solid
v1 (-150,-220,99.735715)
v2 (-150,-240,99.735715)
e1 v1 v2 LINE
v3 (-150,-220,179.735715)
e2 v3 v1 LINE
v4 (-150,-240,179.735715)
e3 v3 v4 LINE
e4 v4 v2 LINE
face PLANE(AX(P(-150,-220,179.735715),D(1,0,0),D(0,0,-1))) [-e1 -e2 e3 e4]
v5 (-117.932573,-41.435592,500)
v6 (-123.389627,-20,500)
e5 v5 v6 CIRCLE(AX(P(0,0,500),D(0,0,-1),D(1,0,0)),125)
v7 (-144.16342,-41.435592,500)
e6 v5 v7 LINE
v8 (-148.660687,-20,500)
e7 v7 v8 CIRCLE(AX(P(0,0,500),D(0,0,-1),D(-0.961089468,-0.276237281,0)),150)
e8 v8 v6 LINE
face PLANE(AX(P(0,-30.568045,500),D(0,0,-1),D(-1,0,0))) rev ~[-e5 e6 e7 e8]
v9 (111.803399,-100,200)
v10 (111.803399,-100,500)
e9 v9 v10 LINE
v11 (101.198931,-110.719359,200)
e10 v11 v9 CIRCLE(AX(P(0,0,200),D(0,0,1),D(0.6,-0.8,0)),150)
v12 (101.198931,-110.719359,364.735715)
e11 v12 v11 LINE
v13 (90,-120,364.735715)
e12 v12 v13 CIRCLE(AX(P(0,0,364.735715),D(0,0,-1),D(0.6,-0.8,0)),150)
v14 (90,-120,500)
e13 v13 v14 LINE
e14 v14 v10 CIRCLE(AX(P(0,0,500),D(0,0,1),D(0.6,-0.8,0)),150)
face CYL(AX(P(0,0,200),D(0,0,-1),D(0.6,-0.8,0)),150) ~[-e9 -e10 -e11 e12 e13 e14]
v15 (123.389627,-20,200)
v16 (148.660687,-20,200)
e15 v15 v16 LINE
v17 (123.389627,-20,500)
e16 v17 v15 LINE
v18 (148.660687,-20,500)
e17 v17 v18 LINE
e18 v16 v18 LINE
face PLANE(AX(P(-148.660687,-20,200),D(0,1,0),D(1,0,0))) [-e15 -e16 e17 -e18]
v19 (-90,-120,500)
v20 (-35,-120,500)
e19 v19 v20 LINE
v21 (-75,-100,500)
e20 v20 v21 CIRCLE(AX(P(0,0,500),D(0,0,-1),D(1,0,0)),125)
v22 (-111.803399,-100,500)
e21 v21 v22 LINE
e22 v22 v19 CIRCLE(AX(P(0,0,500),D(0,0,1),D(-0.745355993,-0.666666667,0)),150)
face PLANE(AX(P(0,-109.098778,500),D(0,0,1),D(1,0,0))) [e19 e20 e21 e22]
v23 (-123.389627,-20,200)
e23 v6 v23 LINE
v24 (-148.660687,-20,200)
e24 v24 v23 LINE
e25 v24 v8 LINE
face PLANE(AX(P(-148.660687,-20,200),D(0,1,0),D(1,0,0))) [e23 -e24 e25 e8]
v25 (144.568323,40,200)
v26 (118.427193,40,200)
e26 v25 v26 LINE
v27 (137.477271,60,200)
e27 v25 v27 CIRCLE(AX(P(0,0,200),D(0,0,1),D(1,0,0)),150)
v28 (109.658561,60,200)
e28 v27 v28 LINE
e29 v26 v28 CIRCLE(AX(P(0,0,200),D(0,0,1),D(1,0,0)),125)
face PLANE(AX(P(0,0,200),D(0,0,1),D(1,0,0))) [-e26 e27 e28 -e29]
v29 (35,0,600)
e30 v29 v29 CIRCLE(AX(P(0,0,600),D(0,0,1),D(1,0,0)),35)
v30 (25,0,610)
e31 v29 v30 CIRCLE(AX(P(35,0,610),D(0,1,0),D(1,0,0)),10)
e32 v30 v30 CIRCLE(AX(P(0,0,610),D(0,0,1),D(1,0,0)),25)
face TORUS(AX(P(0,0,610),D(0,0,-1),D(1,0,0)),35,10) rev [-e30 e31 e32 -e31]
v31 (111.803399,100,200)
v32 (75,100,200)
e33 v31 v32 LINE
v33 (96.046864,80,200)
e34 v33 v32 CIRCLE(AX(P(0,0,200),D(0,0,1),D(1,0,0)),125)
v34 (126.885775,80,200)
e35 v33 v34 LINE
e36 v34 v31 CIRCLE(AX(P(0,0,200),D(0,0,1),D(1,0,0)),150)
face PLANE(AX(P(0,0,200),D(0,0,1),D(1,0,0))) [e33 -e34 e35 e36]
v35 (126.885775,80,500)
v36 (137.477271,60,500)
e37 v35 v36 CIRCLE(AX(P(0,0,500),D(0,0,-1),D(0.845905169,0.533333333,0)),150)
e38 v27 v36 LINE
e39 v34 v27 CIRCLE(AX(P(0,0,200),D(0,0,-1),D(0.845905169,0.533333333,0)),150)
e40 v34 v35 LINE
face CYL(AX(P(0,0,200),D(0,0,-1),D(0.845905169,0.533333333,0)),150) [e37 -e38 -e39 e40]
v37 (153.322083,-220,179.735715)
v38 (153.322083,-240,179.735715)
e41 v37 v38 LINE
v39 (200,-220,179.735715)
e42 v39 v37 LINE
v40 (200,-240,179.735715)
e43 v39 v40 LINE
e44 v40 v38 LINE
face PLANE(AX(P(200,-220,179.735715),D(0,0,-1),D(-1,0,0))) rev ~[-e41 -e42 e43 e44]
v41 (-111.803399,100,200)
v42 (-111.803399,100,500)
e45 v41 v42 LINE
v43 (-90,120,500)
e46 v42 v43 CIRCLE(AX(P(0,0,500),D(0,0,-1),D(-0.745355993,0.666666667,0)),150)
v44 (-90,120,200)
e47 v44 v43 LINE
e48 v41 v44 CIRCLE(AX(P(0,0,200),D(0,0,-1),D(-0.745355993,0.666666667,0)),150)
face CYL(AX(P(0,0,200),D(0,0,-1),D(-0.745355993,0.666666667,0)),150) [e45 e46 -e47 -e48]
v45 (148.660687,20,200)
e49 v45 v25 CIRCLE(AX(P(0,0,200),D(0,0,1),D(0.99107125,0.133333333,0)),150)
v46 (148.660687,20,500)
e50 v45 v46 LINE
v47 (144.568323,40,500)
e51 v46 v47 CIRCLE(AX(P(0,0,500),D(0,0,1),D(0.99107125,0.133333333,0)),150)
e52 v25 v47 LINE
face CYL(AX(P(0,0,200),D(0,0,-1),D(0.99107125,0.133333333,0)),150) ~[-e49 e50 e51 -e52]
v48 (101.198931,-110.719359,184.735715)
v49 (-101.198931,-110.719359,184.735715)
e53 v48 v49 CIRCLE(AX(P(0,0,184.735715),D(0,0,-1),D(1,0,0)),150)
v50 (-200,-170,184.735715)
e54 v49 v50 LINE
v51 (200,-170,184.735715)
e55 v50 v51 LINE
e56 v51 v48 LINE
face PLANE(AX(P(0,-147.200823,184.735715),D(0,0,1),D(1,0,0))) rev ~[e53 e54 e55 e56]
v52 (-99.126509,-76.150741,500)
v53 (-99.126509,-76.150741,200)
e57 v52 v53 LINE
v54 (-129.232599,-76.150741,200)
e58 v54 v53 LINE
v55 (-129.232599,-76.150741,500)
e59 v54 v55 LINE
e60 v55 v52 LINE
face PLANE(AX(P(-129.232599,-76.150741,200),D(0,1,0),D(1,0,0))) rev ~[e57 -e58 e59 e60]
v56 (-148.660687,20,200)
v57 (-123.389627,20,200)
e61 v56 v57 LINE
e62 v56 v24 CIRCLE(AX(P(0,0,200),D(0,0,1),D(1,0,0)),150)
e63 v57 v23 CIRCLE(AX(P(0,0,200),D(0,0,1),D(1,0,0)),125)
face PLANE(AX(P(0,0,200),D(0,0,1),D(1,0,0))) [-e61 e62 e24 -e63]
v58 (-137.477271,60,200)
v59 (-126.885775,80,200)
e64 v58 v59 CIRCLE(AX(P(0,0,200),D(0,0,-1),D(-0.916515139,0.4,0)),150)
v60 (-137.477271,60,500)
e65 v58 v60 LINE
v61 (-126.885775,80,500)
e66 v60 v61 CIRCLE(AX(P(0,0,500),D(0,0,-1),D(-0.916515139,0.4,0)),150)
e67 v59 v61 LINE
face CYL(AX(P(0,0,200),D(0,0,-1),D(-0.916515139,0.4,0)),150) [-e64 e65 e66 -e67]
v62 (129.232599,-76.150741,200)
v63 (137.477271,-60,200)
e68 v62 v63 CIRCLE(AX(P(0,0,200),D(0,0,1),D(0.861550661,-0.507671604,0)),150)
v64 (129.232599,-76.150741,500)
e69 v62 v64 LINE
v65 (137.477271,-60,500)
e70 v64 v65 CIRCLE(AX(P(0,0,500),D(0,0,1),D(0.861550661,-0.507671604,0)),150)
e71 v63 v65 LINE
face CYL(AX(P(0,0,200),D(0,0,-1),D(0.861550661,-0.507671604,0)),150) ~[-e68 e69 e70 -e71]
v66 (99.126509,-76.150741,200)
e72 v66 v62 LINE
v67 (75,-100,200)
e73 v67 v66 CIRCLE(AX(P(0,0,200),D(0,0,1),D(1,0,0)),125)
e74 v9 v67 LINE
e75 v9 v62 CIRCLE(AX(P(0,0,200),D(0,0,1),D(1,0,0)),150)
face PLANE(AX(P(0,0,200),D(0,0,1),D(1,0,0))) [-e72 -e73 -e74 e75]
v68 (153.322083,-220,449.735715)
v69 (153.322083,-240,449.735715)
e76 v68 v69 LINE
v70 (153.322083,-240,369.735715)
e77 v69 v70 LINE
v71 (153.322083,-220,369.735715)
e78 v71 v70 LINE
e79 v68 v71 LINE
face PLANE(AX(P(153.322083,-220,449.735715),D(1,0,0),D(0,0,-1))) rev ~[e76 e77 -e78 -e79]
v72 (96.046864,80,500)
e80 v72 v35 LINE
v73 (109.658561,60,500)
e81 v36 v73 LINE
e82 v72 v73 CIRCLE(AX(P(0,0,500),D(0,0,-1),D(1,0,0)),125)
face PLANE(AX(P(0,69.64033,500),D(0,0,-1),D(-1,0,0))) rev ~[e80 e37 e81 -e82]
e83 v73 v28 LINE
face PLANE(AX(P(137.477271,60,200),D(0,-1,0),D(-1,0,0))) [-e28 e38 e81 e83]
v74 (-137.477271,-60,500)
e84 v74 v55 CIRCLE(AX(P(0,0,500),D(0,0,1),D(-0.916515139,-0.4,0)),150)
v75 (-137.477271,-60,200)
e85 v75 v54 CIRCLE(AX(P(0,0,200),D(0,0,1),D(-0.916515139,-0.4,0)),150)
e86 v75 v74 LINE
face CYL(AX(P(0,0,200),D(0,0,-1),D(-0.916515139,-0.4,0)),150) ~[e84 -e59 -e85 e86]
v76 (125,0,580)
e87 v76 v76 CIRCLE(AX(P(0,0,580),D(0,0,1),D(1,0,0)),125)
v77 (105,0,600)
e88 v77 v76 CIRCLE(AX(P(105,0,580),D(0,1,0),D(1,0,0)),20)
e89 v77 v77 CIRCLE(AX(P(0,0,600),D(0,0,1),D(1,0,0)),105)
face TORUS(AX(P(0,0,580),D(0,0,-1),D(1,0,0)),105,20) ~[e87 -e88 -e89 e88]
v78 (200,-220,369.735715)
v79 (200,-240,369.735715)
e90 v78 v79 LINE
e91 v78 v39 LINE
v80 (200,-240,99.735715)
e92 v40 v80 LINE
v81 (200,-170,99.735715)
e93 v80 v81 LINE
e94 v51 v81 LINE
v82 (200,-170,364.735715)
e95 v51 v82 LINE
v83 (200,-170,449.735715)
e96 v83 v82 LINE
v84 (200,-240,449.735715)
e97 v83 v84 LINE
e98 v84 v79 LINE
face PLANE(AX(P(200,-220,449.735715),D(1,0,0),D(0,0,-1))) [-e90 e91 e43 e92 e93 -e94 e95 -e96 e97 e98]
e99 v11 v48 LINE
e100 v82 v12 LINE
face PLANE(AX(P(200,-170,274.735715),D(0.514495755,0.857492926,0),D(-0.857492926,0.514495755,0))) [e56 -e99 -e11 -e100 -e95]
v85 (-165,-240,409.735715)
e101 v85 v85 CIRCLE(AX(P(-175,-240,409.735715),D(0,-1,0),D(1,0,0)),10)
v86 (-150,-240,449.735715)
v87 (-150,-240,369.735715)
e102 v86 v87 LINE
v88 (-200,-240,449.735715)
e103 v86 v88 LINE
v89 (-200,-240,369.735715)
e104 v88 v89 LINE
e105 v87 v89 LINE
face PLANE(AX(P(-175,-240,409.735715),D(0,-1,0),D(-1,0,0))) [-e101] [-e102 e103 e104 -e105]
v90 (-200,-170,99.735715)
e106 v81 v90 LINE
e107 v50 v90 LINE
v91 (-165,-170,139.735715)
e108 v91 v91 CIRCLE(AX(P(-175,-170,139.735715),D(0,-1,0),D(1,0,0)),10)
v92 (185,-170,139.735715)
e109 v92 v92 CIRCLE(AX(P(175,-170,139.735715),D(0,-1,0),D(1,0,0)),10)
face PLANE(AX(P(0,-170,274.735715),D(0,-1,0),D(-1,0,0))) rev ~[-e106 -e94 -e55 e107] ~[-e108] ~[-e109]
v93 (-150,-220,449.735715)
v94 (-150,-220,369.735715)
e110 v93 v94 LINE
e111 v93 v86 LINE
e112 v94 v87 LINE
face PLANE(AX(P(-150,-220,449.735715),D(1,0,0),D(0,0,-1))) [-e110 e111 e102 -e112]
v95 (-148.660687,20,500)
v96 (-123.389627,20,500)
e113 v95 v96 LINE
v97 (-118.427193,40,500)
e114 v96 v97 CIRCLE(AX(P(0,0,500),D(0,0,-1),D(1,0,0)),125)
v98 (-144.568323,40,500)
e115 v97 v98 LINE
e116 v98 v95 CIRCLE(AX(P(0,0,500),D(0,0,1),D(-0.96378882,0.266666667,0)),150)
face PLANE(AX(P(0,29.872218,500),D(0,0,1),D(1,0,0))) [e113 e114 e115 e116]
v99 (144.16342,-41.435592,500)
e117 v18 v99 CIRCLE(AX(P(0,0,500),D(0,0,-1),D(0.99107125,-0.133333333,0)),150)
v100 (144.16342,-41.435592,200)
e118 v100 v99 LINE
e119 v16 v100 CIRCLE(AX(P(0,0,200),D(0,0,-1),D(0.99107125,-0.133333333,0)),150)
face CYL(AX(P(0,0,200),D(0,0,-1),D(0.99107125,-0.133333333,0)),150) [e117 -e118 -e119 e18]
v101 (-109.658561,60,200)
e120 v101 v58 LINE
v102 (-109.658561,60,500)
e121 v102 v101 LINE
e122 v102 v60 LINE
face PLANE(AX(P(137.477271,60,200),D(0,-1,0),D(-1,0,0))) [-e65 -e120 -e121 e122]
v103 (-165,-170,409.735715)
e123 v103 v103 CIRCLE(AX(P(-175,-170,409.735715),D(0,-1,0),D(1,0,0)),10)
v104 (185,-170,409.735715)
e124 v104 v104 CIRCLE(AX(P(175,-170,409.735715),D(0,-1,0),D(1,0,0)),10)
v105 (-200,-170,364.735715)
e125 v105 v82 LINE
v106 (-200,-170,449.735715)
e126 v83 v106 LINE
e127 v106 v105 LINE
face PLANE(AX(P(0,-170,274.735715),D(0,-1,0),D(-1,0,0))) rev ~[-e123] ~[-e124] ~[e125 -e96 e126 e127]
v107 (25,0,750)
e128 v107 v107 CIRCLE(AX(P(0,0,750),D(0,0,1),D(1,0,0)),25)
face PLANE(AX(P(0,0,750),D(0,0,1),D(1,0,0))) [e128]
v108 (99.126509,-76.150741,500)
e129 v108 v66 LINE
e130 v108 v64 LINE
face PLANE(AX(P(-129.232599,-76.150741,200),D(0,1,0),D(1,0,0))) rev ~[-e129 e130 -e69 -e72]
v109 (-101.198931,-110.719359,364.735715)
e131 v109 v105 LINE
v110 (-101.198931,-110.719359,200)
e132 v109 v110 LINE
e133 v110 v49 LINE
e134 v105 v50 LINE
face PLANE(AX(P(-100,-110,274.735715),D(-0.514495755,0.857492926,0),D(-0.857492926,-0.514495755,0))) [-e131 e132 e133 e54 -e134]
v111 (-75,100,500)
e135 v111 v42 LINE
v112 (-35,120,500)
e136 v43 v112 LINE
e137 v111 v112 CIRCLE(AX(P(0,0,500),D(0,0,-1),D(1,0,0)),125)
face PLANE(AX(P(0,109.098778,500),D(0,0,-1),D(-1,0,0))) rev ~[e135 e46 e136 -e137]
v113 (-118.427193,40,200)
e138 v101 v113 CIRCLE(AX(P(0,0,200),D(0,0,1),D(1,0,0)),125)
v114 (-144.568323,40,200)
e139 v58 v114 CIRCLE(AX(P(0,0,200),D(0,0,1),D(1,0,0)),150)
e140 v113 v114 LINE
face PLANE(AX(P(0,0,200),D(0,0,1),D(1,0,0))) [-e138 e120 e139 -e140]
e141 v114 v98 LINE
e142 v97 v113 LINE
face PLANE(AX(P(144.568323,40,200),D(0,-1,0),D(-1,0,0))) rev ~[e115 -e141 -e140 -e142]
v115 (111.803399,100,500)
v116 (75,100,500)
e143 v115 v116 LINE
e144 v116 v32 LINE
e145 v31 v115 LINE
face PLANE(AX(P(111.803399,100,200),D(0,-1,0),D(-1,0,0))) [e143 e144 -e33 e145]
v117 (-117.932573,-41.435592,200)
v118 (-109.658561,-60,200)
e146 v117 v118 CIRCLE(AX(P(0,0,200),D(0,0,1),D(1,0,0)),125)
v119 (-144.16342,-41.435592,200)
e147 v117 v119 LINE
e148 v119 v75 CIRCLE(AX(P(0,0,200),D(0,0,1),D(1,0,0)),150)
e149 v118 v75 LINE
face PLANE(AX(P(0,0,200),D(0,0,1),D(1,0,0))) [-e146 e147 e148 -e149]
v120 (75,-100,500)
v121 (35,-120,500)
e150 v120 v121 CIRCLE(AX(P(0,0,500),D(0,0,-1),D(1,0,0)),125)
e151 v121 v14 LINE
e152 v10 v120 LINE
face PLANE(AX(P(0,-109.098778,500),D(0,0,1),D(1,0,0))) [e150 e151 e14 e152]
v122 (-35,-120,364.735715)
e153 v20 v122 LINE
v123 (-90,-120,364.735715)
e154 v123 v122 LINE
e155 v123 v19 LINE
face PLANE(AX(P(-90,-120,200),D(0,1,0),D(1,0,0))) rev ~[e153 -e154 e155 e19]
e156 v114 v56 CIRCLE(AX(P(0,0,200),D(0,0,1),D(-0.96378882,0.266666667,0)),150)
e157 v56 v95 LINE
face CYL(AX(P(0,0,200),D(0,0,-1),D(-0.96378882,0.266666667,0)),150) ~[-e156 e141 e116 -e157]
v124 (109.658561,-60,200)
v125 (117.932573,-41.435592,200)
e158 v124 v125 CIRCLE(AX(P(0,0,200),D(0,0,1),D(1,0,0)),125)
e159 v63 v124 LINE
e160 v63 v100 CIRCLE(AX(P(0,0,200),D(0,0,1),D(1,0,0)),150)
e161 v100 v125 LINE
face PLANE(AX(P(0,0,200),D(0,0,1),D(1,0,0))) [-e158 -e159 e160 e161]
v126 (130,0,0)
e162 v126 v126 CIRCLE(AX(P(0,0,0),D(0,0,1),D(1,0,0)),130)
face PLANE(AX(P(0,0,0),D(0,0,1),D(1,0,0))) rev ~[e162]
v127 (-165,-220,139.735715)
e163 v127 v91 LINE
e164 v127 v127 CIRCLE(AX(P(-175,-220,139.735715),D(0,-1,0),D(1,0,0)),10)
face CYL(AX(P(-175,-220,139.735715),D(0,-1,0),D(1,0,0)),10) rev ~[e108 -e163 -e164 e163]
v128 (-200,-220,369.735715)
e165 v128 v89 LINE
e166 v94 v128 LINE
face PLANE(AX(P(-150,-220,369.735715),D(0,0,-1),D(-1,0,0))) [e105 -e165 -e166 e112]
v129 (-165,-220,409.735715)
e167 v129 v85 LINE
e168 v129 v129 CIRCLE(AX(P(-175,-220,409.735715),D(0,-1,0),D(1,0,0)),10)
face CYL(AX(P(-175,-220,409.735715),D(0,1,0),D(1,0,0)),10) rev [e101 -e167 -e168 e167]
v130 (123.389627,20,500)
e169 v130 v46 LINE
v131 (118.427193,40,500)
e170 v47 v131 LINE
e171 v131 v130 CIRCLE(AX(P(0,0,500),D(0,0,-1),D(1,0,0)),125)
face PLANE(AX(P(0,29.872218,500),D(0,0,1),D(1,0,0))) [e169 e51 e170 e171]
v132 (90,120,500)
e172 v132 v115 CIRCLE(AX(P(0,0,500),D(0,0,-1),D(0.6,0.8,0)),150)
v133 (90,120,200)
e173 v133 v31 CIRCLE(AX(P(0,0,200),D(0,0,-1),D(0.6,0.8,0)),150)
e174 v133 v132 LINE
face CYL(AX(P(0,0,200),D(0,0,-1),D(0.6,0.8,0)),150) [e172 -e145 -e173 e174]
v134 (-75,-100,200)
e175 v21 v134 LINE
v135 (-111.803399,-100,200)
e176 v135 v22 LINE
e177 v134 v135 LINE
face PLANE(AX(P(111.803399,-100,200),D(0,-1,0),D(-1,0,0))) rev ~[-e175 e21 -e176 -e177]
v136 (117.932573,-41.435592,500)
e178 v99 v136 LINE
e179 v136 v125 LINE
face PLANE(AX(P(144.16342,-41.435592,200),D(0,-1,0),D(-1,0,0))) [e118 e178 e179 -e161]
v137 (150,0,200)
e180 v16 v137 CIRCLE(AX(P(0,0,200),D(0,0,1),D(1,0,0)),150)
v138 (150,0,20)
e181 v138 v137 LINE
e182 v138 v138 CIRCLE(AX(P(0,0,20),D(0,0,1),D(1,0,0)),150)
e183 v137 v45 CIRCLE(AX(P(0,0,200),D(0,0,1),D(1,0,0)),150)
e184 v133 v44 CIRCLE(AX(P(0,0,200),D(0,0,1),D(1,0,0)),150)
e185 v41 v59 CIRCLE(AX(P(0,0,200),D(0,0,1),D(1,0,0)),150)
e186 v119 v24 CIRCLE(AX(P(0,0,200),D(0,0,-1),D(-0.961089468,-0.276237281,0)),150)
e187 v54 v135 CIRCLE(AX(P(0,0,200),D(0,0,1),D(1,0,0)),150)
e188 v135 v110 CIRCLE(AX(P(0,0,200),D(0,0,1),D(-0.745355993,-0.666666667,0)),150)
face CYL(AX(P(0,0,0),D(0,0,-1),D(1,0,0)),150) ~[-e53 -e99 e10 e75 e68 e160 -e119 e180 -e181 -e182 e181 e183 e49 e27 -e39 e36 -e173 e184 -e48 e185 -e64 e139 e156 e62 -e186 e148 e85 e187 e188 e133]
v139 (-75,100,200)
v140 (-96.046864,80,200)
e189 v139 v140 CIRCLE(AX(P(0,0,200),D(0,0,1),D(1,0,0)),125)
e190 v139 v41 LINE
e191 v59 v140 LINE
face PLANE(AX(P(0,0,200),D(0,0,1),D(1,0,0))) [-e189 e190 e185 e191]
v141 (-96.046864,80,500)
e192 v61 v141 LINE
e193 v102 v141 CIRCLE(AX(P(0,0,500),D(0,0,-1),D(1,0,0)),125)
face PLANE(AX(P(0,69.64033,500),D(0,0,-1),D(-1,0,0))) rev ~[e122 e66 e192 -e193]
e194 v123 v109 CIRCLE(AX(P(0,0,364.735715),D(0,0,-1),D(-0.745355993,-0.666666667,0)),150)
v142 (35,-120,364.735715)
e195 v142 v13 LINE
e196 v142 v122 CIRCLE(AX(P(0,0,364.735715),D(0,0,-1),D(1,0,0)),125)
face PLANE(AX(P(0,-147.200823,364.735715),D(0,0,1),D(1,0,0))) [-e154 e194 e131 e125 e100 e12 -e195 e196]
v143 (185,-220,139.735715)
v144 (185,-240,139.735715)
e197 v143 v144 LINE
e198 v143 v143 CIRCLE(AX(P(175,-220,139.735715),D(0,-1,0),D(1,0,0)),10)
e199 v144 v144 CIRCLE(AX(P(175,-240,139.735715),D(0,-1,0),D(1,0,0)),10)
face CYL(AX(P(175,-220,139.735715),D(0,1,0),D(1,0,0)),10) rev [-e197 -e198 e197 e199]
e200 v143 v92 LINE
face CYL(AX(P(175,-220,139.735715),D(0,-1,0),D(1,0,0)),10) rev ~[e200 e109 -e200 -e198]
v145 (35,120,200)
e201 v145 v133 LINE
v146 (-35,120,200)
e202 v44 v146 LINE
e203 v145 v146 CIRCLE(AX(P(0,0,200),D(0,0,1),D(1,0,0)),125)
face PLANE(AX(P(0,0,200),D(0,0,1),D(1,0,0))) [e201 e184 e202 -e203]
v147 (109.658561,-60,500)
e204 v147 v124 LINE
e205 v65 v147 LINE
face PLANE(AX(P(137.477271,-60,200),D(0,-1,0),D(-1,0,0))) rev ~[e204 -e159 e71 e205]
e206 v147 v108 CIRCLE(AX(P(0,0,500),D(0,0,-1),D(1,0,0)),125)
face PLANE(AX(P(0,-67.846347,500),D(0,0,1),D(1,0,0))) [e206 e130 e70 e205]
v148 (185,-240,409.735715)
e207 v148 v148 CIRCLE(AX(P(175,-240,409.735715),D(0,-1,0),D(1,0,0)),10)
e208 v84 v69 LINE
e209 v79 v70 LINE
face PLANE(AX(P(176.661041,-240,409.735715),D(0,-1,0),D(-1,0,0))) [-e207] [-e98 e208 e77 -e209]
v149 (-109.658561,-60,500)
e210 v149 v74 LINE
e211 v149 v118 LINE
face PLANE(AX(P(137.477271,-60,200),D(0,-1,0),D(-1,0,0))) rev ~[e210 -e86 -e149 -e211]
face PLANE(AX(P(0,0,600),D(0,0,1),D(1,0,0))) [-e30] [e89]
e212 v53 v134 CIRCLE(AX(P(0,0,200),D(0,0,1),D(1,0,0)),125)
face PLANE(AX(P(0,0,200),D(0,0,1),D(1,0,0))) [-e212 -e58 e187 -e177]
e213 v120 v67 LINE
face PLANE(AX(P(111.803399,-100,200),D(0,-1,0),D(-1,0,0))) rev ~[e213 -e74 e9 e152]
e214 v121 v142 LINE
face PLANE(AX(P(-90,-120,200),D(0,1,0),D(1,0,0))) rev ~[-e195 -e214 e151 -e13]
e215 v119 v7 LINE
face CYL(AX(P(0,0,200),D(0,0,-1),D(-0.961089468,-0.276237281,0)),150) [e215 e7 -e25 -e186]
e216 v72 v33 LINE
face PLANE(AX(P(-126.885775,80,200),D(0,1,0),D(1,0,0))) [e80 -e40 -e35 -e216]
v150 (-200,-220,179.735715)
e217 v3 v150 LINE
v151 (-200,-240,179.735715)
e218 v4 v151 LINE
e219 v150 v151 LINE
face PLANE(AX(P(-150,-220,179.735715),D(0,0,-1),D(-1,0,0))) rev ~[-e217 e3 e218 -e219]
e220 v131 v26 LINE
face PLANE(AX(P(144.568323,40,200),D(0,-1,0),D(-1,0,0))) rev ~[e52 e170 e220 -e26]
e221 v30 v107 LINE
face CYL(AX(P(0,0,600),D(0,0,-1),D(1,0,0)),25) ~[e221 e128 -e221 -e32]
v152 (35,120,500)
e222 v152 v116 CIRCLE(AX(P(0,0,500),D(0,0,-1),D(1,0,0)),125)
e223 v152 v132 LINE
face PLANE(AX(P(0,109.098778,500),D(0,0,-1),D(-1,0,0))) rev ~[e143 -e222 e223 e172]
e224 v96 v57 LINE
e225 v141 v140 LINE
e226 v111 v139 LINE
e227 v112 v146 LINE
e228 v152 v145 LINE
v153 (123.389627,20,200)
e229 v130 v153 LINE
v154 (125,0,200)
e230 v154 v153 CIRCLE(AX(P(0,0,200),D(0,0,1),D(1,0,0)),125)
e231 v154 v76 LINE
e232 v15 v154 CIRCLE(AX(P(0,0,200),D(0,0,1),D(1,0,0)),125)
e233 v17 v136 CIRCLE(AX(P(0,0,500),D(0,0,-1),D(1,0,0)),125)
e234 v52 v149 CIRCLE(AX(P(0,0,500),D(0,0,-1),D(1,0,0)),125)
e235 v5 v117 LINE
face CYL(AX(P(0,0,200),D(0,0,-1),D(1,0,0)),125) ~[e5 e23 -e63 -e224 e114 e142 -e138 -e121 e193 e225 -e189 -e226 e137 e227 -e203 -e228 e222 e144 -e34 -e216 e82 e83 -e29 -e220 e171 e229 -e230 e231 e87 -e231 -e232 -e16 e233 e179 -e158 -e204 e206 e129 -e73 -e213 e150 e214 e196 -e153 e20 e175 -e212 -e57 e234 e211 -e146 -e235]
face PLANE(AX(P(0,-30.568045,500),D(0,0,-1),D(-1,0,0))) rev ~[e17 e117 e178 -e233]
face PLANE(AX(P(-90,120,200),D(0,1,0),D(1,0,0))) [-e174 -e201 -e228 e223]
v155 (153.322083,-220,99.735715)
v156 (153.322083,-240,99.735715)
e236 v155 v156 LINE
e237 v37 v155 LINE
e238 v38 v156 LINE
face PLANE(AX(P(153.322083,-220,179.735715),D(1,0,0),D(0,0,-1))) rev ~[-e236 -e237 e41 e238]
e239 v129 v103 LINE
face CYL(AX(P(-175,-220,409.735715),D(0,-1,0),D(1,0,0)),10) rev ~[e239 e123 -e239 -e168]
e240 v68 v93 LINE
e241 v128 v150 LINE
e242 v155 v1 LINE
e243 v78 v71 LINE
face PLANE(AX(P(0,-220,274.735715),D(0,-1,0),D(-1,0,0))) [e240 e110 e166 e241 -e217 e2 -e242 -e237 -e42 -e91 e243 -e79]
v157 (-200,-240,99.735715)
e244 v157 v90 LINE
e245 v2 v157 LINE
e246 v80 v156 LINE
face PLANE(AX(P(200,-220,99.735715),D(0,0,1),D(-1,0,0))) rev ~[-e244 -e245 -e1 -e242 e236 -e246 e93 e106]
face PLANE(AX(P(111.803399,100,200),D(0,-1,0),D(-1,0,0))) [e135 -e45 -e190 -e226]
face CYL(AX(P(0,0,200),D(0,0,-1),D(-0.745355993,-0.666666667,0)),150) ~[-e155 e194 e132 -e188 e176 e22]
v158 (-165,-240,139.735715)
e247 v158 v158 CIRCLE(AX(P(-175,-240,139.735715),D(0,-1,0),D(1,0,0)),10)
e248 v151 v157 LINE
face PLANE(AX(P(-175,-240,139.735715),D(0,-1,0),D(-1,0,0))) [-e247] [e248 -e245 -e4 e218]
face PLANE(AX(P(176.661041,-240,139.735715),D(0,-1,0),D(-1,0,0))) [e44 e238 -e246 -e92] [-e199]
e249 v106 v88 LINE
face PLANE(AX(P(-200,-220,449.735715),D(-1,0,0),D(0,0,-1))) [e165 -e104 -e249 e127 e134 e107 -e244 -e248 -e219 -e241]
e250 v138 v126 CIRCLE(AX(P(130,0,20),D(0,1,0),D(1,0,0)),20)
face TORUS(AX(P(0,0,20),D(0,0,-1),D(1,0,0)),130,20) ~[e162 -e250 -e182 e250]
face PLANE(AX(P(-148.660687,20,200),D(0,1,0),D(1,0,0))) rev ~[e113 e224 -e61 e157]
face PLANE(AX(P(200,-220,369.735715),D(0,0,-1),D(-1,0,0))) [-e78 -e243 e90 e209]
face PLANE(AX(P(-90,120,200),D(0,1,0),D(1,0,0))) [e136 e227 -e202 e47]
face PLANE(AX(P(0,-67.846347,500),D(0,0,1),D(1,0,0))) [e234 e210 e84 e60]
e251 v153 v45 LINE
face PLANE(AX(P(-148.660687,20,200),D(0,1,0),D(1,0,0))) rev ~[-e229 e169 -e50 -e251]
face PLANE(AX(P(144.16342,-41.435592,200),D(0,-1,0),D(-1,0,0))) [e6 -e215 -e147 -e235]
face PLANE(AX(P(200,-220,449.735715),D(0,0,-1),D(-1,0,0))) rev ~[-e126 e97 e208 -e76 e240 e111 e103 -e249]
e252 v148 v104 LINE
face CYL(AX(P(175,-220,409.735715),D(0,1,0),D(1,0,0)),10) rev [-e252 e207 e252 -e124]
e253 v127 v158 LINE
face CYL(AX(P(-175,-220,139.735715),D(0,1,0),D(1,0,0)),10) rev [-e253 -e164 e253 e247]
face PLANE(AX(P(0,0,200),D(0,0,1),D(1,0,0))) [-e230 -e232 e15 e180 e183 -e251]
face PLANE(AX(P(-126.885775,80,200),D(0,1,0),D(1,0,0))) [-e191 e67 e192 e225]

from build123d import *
from build123d.topology import SkipClean

# Parameters (mm, degrees)
SKETCH1_R            = 150
BOSS_EXTRUDE1_DEPTH  = 200
BOSS_EXTRUDE11_DEPTH = 300
BOSS_EXTRUDE14_START = -300
SKETCH12_R           = 125
BOSS_EXTRUDE14_DEPTH = 400
SKETCH13_W           = 400
SKETCH13_H           = 350
SKETCH13_R           = 10
BOSS_EXTRUDE15_DEPTH = 50
SKETCH13_3_W         = 46.677917496
SKETCH13_3_H         = 80
SKETCH13_3_R         = 10
SKETCH13_3_W_2       = 50
BOSS_EXTRUDE16_DEPTH = 20
BOSS_EXTRUDE17_DEPTH = 90
SKETCH16_R           = 25
BOSS_EXTRUDE18_DEPTH = 150
FILLET2_R            = 10
FILLET3_R            = 20


with BuildPart() as part:
    # Sketch1 → Boss-Extrude1 (new body)
    with BuildSketch(Plane.XY):
        Circle(SKETCH1_R)
    extrude(amount=BOSS_EXTRUDE1_DEPTH)

    # Sketch7 → Boss-Extrude11 (add)
    with SkipClean():  # the faces are left unmerged after this step: merging them gives an invalid solid
        with BuildSketch(Plane.XY.offset(200)):
            with BuildLine():
                Line((-90, 120), (90, 120))
                ThreePointArc((90, 120), (101.396020382, 110.538893837), (111.803398875, 100))
                Line((111.803398875, 100), (-111.803398875, 100))
                ThreePointArc((-111.803398875, 100), (-101.396020382, 110.538893837), (-90, 120))
            make_face()
            with BuildLine():
                Line((-126.885775404, 80), (126.885775404, 80))
                ThreePointArc((126.885775404, 80), (132.559251115, 70.200035213), (137.477270849, 60))
                Line((137.477270849, 60), (-137.477270849, 60))
                ThreePointArc((-137.477270849, 60), (-132.559251115, 70.200035213), (-126.885775404, 80))
            make_face()
            with BuildLine():
                Line((144.16342013, -41.435592144), (-144.16342013, -41.435592144))
                ThreePointArc((-144.16342013, -41.435592144), (-146.803816882, -30.799989431), (-148.660687473, -20))
                Line((-148.660687473, -20), (148.660687473, -20))
                ThreePointArc((148.660687473, -20), (146.803816882, -30.799989431), (144.16342013, -41.435592144))
            make_face()
            with BuildLine():
                Line((111.803398875, -100), (-111.803398875, -100))
                ThreePointArc((-111.803398875, -100), (-101.396020382, -110.538893837), (-90, -120))
                Line((-90, -120), (90, -120))
                ThreePointArc((90, -120), (101.396020382, -110.538893837), (111.803398875, -100))
            make_face()
            with BuildLine():
                Line((144.568322948, 40), (-144.568322948, 40))
                ThreePointArc((-144.568322948, 40), (-146.955139883, 30.069700063), (-148.660687473, 20))
                Line((-148.660687473, 20), (148.660687473, 20))
                ThreePointArc((148.660687473, 20), (146.955139883, 30.069700063), (144.568322948, 40))
            make_face()
            with BuildLine():
                Line((137.477270849, -60), (-137.477270849, -60))
                ThreePointArc((-137.477270849, -60), (-133.599215205, -68.20007109), (-129.232599216, -76.150740639))
                Line((-129.232599216, -76.150740639), (129.232599216, -76.150740639))
                ThreePointArc((129.232599216, -76.150740639), (133.599215205, -68.20007109), (137.477270849, -60))
            make_face()
        extrude(amount=BOSS_EXTRUDE11_DEPTH)



with BuildPart() as body_2:
    # Sketch12 → Boss-Extrude14 (new body)
    with BuildSketch(Plane.XY.offset(500).offset(BOSS_EXTRUDE14_START)):
        Circle(SKETCH12_R)
    extrude(amount=BOSS_EXTRUDE14_DEPTH)


with BuildPart() as body_3:
    # Sketch13 → Boss-Extrude15 (new body)
    with BuildSketch(Plane(origin=(0, -220, 0), x_dir=(-1, 0, 0), z_dir=(0, -1, 0))):
        with Locations((0, -274.735715433)):
            Rectangle(SKETCH13_W, SKETCH13_H)
        with Locations(Location((-175, -139.735715433, 0), (0, 0, 180))):
            Circle(SKETCH13_R, mode=Mode.SUBTRACT)
        with Locations(Location((-175, -409.735715433, 0), (0, 0, 180))):
            Circle(SKETCH13_R, mode=Mode.SUBTRACT)
        with Locations(Location((175, -409.735715433, 0), (0, 0, 180))):
            Circle(SKETCH13_R, mode=Mode.SUBTRACT)
        with Locations(Location((175, -139.735715433, 0), (0, 0, 180))):
            Circle(SKETCH13_R, mode=Mode.SUBTRACT)
    extrude(amount=-BOSS_EXTRUDE15_DEPTH)

    # Sketch13<3> → Boss-Extrude16 (add)
    # profile 1 of 4: a face of its own
    with BuildSketch(Plane(origin=(0, -220, 0), x_dir=(-1, 0, 0), z_dir=(0, -1, 0))):
        with Locations((-176.661041252, -409.735715433)):
            Rectangle(SKETCH13_3_W, SKETCH13_3_H)
        with Locations(Location((-175, -409.735715433, 0), (0, 0, 180))):
            Circle(SKETCH13_3_R, mode=Mode.SUBTRACT)
    # profile 2 of 4: a face of its own
    with BuildSketch(Plane(origin=(0, -220, 0), x_dir=(-1, 0, 0), z_dir=(0, -1, 0))):
        with Locations((-176.661041252, -139.735715433)):
            Rectangle(SKETCH13_3_W, SKETCH13_3_H)
        with Locations(Location((-175, -139.735715433, 0), (0, 0, 180))):
            Circle(SKETCH13_3_R, mode=Mode.SUBTRACT)
    # profile 3 of 4: a face of its own
    with BuildSketch(Plane(origin=(0, -220, 0), x_dir=(-1, 0, 0), z_dir=(0, -1, 0))):
        with Locations((175, -409.735715433)):
            Rectangle(SKETCH13_3_W_2, SKETCH13_3_H)
        with Locations(Location((175, -409.735715433, 0), (0, 0, 180))):
            Circle(SKETCH13_3_R, mode=Mode.SUBTRACT)
    # profile 4 of 4: a face of its own
    with BuildSketch(Plane(origin=(0, -220, 0), x_dir=(-1, 0, 0), z_dir=(0, -1, 0))):
        with Locations((175, -139.735715433)):
            Rectangle(SKETCH13_3_W_2, SKETCH13_3_H)
        with Locations(Location((175, -139.735715433, 0), (0, 0, 180))):
            Circle(SKETCH13_3_R, mode=Mode.SUBTRACT)
    extrude(amount=BOSS_EXTRUDE16_DEPTH)


with BuildPart() as part_1:
    with SkipClean():  # the faces are left unmerged after this step: merging them gives an invalid solid
        add(part.part)

        add(body_2.part)  # Boss-Extrude17 merges body 2

        add(body_3.part)  # Boss-Extrude17 merges body 3
        # Sketch14 → Boss-Extrude17 (add, symmetric)
        with BuildSketch(Plane.XY.offset(274.735715433)):
            Polygon((-200, -170), (200, -170), (100, -110), (-100, -110), align=None)
        extrude(amount=BOSS_EXTRUDE17_DEPTH, both=True)

    # Sketch16 → Boss-Extrude18 (add)
    with BuildSketch(Plane.XY.offset(600)):
        Circle(SKETCH16_R)
    extrude(amount=BOSS_EXTRUDE18_DEPTH)

    # Fillet2
    fillet2_edges = [part_1.edges().sort_by_distance(p)[0] for p in [
        (-25, 0, 600),
    ]]
    fillet(fillet2_edges, radius=FILLET2_R)

    # Fillet3
    fillet3_edges = [part_1.edges().sort_by_distance(p)[0] for p in [
        (-125, 0, 600),
        (-150, 0, 0),
    ]]
    fillet(fillet3_edges, radius=FILLET3_R)


solid = part_1.part
